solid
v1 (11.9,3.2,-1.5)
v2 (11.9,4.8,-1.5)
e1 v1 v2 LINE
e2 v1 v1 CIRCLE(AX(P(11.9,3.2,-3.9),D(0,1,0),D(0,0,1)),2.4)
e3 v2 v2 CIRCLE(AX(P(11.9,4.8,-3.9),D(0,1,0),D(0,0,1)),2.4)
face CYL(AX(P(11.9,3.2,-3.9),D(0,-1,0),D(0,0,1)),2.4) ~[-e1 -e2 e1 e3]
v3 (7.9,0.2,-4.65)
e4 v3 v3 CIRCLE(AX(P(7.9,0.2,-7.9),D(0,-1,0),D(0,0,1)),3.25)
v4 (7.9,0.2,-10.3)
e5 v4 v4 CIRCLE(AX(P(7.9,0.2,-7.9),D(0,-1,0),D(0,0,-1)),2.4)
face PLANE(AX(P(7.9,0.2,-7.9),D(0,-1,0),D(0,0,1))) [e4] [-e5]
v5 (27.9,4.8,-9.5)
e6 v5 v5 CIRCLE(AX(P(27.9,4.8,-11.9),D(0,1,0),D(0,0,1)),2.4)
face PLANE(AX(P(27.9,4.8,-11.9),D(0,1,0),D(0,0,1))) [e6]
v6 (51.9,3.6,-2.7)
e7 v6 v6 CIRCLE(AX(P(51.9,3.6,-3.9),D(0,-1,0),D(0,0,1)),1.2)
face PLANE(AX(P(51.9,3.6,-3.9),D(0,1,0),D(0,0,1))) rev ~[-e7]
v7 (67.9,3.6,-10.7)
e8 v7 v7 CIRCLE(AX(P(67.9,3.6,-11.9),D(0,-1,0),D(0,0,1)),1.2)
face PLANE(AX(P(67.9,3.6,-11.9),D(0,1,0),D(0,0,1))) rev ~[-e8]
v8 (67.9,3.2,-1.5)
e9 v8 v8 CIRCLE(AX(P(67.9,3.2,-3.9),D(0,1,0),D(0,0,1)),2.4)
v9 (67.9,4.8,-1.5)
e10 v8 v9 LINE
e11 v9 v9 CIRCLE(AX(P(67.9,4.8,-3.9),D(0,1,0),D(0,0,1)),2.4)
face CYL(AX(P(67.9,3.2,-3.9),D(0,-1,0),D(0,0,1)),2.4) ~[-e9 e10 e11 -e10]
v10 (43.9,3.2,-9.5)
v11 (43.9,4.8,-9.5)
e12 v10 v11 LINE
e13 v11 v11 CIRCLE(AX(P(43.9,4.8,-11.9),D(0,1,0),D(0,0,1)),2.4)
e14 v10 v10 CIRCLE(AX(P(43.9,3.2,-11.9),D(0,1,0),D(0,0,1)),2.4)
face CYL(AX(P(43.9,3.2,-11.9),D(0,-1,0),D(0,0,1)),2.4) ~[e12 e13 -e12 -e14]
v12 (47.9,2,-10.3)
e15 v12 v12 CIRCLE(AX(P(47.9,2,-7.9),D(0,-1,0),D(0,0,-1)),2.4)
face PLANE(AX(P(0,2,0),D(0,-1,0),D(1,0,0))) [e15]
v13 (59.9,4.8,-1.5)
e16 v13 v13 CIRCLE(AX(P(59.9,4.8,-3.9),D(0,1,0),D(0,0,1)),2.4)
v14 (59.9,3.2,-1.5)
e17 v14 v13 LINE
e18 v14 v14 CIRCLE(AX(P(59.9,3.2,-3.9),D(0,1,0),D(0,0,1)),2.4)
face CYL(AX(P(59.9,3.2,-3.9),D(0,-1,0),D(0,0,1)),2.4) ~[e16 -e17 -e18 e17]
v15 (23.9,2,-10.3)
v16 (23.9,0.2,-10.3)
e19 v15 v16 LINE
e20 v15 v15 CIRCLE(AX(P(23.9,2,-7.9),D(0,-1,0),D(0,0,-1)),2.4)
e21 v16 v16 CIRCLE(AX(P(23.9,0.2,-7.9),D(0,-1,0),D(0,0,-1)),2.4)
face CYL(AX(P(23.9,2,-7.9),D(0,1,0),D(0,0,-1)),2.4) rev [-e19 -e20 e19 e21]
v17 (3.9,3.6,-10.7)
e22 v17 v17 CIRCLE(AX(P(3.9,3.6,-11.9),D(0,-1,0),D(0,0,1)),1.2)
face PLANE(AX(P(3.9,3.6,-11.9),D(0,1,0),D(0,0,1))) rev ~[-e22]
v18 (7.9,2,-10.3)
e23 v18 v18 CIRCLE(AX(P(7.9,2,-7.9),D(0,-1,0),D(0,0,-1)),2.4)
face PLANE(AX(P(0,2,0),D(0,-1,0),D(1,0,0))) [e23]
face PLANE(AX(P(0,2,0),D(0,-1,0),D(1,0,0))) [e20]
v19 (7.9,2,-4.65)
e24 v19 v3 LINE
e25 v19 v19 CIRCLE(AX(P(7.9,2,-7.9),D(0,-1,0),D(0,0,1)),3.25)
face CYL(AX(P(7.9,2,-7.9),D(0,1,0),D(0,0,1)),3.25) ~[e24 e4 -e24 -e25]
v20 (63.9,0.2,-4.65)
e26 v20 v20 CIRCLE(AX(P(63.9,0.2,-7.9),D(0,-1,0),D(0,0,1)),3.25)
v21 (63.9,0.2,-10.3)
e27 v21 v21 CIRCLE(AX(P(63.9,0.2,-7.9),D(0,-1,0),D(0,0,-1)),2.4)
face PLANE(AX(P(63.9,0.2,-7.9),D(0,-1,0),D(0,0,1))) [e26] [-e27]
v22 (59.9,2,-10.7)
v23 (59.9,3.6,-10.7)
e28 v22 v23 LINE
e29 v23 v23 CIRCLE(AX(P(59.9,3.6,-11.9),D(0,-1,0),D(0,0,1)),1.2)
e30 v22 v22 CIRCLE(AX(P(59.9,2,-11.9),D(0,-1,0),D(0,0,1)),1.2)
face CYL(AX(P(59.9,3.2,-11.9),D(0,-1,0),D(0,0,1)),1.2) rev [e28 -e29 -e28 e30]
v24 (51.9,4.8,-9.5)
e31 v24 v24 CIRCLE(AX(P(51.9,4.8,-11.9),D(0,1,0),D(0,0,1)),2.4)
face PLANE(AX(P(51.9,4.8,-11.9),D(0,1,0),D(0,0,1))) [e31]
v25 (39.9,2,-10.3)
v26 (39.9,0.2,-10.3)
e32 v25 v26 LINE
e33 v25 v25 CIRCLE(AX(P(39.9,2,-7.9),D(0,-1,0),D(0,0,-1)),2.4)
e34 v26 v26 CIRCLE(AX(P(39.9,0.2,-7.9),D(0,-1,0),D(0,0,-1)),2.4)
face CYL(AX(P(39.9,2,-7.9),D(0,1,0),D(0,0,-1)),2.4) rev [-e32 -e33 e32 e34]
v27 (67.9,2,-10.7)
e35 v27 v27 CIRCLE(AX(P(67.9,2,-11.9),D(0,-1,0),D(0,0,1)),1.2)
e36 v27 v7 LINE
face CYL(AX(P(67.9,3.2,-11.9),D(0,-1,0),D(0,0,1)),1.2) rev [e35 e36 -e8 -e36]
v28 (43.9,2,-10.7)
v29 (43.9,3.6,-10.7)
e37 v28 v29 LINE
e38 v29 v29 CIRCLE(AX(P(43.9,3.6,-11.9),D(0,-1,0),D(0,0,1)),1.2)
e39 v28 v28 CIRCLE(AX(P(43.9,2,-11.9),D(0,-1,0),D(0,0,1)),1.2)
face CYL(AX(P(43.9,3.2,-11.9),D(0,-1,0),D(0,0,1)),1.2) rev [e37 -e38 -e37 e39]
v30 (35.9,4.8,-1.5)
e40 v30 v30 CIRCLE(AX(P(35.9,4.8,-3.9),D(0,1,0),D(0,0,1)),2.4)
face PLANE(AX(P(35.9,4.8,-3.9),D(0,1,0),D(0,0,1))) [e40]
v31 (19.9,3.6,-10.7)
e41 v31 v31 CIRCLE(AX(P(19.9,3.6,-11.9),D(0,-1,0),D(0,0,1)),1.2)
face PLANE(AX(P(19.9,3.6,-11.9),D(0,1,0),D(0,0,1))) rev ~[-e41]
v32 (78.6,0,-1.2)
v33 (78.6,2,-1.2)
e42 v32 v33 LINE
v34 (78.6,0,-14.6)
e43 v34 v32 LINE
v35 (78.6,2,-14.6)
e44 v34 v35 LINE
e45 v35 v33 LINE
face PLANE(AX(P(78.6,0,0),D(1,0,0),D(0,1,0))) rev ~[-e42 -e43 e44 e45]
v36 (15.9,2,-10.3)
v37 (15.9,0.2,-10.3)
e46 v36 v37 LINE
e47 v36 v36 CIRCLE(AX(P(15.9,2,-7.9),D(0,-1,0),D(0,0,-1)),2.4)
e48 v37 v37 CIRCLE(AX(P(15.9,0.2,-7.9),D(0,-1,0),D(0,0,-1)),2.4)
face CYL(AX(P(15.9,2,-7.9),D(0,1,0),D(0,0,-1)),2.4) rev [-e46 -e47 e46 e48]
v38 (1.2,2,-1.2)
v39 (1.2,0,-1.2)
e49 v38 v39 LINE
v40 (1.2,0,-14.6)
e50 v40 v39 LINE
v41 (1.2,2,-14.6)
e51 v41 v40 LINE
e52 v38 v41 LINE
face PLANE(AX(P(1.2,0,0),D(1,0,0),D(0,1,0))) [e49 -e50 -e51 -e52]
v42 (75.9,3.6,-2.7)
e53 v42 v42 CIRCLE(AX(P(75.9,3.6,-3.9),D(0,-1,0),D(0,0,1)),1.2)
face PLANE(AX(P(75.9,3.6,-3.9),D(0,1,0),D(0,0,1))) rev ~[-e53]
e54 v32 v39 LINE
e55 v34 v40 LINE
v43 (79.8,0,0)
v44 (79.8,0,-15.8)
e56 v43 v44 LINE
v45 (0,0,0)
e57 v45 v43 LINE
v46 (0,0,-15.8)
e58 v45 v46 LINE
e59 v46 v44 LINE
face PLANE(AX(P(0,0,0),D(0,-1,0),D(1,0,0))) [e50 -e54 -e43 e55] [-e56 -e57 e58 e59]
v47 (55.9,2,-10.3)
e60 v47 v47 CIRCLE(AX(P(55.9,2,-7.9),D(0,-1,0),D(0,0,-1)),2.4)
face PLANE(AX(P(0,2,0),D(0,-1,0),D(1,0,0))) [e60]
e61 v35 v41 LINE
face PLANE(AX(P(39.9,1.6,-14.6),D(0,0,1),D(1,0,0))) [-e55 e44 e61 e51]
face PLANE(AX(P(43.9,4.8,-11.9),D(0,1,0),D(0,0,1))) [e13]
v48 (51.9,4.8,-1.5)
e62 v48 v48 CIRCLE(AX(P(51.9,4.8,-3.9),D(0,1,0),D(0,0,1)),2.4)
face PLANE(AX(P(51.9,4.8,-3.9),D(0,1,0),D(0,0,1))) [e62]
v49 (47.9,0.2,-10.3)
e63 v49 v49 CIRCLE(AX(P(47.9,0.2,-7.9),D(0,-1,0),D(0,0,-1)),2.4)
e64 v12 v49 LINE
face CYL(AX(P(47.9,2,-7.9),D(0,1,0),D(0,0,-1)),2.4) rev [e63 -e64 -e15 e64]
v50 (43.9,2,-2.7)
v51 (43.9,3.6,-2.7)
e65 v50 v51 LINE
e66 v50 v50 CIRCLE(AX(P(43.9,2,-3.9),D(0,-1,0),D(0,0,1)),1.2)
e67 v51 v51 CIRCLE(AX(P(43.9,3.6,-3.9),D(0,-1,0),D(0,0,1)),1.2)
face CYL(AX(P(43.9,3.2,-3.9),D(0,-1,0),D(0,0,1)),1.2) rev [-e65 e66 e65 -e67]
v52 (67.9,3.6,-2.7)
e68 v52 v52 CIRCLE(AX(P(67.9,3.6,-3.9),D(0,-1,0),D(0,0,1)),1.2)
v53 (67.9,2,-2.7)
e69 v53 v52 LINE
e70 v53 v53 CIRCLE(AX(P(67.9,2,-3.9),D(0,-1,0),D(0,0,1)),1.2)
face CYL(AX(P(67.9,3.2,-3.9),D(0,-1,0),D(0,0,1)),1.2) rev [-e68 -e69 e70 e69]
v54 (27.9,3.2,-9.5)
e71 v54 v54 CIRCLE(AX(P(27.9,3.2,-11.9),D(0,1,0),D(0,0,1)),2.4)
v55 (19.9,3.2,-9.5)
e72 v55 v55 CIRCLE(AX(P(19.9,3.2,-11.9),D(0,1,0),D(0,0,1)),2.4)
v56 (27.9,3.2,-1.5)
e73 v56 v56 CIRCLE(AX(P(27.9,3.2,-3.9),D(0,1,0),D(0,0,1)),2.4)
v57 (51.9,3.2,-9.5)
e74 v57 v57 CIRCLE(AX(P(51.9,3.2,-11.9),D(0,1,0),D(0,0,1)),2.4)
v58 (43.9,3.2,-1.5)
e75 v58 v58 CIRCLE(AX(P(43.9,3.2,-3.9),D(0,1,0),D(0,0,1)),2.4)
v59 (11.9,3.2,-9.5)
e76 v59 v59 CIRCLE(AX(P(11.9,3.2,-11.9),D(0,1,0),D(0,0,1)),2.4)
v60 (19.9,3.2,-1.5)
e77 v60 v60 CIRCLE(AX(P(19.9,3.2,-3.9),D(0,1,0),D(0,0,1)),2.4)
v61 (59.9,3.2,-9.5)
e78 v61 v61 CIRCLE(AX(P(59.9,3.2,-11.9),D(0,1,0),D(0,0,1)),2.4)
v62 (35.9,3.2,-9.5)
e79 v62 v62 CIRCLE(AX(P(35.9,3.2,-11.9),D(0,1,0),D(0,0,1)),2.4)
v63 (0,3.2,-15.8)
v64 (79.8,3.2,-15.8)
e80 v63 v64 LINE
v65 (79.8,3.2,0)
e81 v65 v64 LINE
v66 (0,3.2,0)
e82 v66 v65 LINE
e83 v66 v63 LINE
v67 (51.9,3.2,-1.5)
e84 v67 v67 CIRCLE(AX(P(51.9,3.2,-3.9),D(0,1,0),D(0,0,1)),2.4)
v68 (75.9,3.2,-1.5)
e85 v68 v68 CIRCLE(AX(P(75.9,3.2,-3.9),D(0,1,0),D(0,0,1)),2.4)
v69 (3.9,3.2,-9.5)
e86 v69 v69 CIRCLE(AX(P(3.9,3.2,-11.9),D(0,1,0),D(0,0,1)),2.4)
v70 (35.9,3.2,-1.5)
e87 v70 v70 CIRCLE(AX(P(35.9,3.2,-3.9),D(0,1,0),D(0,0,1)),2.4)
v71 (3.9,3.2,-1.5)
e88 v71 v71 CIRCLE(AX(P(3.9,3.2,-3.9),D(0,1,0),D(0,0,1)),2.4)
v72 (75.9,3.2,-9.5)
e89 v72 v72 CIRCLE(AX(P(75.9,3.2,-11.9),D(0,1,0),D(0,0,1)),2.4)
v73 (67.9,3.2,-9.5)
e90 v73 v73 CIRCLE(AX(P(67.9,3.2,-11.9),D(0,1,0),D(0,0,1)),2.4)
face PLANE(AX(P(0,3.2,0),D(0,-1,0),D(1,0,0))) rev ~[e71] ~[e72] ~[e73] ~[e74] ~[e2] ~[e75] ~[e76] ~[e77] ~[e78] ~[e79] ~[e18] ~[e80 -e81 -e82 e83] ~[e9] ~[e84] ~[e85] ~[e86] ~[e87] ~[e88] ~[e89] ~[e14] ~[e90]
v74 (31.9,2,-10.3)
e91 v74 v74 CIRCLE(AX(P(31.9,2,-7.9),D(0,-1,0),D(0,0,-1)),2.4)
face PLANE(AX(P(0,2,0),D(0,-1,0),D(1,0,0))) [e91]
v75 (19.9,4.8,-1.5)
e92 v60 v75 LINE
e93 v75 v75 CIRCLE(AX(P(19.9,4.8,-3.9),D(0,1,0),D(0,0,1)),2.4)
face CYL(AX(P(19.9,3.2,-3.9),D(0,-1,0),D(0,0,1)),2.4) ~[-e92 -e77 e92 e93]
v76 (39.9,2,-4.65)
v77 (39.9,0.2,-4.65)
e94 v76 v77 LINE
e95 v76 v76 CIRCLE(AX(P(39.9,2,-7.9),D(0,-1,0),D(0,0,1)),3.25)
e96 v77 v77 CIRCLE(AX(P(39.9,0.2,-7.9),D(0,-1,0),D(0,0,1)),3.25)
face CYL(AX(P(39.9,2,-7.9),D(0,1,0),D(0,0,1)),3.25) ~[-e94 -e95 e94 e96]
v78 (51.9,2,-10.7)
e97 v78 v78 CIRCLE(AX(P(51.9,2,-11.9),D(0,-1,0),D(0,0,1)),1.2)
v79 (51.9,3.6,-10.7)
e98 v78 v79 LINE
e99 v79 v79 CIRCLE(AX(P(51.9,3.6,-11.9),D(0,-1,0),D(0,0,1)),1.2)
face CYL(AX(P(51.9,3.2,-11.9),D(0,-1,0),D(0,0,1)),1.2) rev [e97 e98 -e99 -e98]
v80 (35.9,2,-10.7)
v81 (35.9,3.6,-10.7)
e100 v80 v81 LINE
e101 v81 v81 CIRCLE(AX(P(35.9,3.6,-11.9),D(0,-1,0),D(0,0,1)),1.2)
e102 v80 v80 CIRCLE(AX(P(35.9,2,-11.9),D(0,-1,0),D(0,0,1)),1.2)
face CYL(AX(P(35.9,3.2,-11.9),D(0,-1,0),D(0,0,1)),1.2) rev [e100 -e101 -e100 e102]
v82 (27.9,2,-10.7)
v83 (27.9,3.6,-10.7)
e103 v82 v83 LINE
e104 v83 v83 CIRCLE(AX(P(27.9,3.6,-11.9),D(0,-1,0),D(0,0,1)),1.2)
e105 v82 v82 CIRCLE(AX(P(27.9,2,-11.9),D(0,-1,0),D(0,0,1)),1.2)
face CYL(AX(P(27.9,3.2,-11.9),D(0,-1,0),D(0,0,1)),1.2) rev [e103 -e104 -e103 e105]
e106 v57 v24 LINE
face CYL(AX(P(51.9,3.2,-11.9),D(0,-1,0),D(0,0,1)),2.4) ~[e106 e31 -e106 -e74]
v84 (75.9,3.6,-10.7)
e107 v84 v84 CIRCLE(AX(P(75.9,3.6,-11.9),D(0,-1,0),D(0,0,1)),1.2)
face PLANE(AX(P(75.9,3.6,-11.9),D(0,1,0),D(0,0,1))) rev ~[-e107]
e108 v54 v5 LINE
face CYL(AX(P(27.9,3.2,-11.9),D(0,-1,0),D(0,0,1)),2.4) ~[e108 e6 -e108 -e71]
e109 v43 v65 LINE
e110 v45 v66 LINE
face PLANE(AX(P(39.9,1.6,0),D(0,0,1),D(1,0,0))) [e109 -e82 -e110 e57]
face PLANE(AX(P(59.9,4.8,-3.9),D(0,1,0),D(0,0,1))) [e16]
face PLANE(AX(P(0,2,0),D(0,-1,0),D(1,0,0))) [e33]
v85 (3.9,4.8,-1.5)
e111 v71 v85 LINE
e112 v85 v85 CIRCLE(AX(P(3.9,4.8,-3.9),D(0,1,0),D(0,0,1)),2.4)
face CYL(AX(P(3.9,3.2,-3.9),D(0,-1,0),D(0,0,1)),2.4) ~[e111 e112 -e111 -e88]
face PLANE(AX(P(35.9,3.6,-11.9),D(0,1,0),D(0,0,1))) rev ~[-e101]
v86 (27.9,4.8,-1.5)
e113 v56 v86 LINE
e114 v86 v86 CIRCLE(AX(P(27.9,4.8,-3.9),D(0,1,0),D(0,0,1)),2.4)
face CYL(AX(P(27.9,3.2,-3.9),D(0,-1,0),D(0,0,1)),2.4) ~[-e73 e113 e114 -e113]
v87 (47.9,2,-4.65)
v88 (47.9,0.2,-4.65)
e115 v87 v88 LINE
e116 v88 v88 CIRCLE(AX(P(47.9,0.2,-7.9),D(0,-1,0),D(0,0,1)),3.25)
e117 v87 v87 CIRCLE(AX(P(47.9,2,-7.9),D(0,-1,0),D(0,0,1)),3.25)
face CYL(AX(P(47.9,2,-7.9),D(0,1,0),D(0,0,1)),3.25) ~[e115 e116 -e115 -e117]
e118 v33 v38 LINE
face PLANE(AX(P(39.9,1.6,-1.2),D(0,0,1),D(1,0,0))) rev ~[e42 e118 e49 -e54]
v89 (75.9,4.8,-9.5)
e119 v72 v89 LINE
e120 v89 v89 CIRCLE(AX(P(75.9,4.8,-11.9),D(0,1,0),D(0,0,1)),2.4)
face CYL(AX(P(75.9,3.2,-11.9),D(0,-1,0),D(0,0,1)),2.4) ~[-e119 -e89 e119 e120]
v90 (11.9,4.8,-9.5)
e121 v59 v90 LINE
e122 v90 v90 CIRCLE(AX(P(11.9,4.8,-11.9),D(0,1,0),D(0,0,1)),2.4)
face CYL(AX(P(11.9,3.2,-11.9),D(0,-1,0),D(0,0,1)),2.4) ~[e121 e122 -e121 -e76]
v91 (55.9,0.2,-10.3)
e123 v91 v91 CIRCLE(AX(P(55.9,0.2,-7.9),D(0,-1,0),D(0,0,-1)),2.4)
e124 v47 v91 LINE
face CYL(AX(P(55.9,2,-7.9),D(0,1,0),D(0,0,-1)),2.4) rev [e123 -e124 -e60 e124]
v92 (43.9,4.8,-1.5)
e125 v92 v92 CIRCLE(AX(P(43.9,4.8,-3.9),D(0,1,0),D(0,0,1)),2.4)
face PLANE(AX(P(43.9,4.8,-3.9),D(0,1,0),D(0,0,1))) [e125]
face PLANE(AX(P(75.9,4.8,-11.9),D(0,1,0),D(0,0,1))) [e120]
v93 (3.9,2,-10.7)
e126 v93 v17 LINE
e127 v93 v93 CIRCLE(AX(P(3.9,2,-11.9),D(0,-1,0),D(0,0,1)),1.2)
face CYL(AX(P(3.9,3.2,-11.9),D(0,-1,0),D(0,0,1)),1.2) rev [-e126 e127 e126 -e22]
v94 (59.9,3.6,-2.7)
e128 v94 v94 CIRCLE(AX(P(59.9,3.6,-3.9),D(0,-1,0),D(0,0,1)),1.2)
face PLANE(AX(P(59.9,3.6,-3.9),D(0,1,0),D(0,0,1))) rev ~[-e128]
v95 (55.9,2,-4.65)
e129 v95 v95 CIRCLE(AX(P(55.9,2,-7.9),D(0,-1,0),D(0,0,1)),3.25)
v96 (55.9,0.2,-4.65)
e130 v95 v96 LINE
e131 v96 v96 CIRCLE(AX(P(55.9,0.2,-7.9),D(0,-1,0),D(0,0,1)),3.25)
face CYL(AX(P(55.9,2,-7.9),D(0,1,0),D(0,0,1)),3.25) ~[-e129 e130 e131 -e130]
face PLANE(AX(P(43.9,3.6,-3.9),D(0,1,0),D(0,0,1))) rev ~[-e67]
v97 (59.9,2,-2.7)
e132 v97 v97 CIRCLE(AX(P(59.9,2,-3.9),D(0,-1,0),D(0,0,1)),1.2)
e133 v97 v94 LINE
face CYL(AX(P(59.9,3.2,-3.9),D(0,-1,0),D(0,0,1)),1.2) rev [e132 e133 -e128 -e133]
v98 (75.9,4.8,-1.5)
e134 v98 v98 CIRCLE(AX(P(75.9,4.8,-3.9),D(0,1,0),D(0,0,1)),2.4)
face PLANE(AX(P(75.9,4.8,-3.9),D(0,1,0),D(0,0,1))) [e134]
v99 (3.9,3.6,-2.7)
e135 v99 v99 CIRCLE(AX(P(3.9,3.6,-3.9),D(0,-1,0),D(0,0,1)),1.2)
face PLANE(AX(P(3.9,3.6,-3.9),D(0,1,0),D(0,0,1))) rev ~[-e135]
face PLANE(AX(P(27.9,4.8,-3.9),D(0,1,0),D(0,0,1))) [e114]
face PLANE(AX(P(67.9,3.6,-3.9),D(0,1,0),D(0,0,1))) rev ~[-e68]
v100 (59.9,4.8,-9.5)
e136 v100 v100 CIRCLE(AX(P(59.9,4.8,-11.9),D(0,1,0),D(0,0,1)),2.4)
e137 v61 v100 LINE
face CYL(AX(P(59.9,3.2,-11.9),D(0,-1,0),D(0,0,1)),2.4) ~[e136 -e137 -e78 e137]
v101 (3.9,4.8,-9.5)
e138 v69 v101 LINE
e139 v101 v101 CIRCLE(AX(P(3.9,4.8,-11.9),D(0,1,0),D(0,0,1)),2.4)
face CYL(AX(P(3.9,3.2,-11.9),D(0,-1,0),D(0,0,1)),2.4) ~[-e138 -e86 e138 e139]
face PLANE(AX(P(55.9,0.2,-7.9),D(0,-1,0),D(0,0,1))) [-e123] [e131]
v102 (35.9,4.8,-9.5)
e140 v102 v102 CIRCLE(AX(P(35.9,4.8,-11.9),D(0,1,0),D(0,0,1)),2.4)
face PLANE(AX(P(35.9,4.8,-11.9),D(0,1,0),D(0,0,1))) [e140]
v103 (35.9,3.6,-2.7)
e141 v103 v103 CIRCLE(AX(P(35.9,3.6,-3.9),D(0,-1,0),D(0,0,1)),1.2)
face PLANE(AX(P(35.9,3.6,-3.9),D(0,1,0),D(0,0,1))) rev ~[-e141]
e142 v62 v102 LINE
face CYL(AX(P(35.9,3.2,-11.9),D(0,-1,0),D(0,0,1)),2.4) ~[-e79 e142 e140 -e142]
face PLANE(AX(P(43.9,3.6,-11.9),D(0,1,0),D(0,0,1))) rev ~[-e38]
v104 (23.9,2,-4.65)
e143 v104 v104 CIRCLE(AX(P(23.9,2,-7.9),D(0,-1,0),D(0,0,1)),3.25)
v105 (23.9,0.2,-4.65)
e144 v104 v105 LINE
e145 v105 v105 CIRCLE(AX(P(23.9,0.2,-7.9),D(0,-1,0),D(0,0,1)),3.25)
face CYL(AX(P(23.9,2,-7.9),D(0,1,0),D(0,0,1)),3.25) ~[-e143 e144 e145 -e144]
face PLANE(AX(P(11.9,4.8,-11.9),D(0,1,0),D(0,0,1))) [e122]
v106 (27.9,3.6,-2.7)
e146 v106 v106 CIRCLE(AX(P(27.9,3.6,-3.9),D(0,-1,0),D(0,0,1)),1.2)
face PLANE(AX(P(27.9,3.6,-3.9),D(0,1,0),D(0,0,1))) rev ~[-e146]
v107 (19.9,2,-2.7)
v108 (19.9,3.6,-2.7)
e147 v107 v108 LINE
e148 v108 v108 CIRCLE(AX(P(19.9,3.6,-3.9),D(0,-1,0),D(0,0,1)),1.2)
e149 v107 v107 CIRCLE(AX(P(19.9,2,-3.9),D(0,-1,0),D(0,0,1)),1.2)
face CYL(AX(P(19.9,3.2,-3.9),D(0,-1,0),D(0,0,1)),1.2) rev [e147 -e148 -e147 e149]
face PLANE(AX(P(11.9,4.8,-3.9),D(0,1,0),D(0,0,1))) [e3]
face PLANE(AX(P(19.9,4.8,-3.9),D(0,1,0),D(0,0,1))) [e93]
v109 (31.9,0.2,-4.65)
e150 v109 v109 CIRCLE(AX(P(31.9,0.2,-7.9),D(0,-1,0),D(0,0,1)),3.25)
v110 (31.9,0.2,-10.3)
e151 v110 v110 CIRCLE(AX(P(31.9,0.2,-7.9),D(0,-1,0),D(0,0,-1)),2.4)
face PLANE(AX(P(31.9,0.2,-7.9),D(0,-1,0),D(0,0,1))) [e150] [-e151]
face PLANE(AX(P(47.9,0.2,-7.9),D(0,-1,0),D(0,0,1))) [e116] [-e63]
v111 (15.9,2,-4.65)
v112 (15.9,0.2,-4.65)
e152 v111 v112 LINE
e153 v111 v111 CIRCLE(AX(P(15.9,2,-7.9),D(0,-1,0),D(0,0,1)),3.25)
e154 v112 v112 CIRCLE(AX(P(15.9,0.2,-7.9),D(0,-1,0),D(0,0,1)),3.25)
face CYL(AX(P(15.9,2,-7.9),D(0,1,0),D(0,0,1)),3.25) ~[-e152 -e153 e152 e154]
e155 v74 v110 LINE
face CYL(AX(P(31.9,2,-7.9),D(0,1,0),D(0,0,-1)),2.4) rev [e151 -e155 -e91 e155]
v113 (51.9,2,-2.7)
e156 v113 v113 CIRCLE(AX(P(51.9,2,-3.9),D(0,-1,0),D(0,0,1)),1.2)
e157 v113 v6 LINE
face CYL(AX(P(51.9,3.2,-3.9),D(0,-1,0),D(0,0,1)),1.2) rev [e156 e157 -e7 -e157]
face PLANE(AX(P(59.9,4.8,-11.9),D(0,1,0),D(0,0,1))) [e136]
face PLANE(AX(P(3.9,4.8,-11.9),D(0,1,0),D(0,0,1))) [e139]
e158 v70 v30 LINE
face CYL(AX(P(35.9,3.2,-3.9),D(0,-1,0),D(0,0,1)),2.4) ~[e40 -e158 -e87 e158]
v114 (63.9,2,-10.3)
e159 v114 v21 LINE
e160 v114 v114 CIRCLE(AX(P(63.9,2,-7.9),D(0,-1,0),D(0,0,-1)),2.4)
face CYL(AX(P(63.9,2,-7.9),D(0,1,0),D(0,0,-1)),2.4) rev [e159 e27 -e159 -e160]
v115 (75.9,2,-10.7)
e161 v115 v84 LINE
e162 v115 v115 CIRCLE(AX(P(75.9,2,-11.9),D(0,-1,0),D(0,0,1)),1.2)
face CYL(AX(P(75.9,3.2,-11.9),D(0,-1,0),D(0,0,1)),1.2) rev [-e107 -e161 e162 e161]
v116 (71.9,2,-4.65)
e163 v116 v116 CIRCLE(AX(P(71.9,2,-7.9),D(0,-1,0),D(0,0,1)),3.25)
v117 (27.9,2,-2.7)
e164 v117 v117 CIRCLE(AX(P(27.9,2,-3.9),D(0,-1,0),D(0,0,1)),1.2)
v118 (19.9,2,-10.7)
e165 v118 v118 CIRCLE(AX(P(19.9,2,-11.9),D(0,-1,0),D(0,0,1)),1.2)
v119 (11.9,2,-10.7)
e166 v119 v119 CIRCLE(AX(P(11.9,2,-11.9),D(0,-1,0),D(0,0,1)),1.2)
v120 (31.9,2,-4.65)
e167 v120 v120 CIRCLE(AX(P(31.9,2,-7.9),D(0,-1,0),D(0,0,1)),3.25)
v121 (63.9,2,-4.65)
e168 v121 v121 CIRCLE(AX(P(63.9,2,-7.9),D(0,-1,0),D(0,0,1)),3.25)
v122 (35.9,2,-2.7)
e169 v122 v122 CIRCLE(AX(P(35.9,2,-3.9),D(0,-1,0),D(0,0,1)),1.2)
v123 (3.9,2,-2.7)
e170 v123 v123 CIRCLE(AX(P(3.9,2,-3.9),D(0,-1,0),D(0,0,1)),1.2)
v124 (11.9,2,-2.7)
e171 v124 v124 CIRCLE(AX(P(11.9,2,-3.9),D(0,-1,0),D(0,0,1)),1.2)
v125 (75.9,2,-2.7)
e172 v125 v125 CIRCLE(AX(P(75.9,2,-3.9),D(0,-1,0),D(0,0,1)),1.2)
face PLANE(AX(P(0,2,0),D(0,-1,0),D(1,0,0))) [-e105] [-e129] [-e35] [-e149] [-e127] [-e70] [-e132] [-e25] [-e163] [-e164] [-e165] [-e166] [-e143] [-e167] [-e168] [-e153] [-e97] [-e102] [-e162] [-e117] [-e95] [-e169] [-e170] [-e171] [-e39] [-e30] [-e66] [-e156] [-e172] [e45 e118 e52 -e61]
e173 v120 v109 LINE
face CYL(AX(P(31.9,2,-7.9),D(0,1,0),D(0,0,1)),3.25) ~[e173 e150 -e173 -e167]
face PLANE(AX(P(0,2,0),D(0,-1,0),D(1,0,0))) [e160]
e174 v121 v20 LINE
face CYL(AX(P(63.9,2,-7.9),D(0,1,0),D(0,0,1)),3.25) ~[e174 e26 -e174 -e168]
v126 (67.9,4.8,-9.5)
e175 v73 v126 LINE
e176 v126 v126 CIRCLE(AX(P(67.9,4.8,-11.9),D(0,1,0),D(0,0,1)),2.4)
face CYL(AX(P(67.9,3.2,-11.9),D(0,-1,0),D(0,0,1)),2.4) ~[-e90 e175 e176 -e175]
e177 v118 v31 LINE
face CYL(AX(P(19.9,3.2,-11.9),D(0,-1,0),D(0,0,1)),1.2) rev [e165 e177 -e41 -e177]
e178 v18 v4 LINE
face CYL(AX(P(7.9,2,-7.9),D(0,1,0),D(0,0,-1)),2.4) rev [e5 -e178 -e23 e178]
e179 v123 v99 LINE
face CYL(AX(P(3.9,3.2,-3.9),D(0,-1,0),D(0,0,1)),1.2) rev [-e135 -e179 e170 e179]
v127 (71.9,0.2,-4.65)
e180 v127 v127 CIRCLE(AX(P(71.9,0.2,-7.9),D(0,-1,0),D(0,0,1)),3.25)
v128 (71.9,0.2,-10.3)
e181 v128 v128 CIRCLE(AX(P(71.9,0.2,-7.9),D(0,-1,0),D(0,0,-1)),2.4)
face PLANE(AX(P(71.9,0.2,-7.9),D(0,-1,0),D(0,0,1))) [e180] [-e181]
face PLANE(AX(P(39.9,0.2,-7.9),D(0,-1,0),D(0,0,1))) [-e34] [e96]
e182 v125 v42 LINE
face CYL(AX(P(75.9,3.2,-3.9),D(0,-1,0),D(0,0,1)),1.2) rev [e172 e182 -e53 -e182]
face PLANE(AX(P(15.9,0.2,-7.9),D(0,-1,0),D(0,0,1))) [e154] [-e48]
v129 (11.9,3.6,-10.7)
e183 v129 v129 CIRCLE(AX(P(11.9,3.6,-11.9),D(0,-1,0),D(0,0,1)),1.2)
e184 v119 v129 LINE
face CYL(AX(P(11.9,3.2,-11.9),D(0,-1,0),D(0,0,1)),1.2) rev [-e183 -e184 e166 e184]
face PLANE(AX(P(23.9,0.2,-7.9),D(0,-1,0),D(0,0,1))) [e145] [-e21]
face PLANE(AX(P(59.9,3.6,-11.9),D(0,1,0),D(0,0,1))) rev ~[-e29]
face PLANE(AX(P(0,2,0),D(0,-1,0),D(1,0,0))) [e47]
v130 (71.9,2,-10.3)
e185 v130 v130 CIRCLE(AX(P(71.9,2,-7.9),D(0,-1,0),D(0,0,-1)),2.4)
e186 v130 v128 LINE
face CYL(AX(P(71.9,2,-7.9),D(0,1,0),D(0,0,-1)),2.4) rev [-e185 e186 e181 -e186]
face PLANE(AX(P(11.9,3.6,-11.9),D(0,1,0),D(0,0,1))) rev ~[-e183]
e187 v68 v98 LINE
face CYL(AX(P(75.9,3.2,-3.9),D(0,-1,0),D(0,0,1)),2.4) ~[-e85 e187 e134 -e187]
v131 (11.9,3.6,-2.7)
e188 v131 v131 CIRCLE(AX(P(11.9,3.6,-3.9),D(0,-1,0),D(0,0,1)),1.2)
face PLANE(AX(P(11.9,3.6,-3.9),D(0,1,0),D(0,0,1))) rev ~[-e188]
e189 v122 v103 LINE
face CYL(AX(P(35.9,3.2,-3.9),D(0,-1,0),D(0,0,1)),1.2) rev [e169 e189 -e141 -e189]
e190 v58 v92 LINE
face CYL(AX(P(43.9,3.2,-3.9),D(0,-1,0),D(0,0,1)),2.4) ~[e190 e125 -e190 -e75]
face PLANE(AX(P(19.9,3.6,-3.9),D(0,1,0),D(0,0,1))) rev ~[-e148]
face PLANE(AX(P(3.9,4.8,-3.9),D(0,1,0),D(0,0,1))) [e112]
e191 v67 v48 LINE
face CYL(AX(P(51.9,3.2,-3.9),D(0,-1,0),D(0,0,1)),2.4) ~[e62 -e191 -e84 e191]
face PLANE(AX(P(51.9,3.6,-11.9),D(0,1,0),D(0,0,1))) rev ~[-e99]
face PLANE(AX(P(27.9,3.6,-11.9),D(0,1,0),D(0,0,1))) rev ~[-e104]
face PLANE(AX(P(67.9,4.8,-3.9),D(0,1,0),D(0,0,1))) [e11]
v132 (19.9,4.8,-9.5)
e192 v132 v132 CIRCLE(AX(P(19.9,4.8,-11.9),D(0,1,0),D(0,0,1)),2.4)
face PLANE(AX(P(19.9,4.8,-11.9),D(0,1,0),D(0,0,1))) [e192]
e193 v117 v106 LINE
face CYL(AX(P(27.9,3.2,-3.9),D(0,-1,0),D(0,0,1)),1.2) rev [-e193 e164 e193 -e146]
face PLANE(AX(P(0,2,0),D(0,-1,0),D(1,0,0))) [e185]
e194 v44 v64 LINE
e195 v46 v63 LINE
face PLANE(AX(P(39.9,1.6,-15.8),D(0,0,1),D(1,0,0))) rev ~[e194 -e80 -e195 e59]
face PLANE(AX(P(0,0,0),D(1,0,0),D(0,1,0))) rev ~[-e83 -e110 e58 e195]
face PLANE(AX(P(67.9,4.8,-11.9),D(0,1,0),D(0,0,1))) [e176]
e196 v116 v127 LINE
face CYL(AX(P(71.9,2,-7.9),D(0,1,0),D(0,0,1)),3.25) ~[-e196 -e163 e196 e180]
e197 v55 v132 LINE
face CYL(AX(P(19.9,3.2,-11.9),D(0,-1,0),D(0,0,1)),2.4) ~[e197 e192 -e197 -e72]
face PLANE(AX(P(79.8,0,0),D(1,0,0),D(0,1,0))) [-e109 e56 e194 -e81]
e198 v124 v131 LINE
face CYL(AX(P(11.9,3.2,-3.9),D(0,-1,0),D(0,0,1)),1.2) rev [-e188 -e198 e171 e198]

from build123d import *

# Parameters (mm, degrees)
SKETCH1_W            = 79.8
SKETCH1_H            = 3.2
BOSS_EXTRUDE1_DEPTH  = 15.8
SKETCH2_R            = 2.4
BOSS_EXTRUDE2_DEPTH  = 1.6
LPATTERN1_COUNT      = 2
LPATTERN1_PITCH      = 8
LPATTERN1_COUNT_DIR2 = 10
LPATTERN1_PITCH_DIR2 = 8
SHELL1_T             = -1.2
SKETCH3_R            = 3.25
SKETCH3_R_2          = 2.4
BOSS_EXTRUDE3_DEPTH  = 1.8
LPATTERN2_COUNT      = 9
LPATTERN2_PITCH      = 8


with BuildPart() as part:
    # Sketch1 → Boss-Extrude1 (new body)
    with BuildSketch(Plane.XY):
        with Locations((39.9, 1.6)):
            Rectangle(SKETCH1_W, SKETCH1_H)
    extrude(amount=-BOSS_EXTRUDE1_DEPTH)

    # Sketch2 → Boss-Extrude2 (add)
    with BuildSketch(Plane(origin=(0, 3.2, 0), x_dir=(1, 0, 0), z_dir=(0, 1, 0))):
        with Locations(Location((3.9, 3.9, 0), (0, 0, 270))):
            Circle(SKETCH2_R)
    boss_extrude2 = extrude(amount=BOSS_EXTRUDE2_DEPTH)

    # LPattern1: Boss-Extrude2 2 × 10
    with Locations(*[(j * LPATTERN1_PITCH_DIR2, 0, -i * LPATTERN1_PITCH) for i in range(LPATTERN1_COUNT) for j in range(LPATTERN1_COUNT_DIR2) if (i, j) != (0, 0)]):
        add(boss_extrude2)

    # Shell1
    shell1_openings = [part.faces().sort_by_distance(p)[0] for p in [
        (39.9, 0, -7.9),
    ]]
    offset(amount=SHELL1_T, openings=shell1_openings, kind=Kind.INTERSECTION)

    # Sketch3 → Boss-Extrude3 (add)
    with BuildSketch(Plane.XZ.offset(-2)):
        with Locations(Location((7.9, -7.9, 0), (0, 0, 90))):
            Circle(SKETCH3_R)
        with Locations(Location((7.9, -7.9, 0), (0, 0, 270))):
            Circle(SKETCH3_R_2, mode=Mode.SUBTRACT)
    boss_extrude3 = extrude(amount=BOSS_EXTRUDE3_DEPTH)

    # LPattern2: Boss-Extrude3 ×9
    with Locations(*[(i * LPATTERN2_PITCH, 0, 0) for i in range(1, LPATTERN2_COUNT)]):
        add(boss_extrude3)


solid = part.part
